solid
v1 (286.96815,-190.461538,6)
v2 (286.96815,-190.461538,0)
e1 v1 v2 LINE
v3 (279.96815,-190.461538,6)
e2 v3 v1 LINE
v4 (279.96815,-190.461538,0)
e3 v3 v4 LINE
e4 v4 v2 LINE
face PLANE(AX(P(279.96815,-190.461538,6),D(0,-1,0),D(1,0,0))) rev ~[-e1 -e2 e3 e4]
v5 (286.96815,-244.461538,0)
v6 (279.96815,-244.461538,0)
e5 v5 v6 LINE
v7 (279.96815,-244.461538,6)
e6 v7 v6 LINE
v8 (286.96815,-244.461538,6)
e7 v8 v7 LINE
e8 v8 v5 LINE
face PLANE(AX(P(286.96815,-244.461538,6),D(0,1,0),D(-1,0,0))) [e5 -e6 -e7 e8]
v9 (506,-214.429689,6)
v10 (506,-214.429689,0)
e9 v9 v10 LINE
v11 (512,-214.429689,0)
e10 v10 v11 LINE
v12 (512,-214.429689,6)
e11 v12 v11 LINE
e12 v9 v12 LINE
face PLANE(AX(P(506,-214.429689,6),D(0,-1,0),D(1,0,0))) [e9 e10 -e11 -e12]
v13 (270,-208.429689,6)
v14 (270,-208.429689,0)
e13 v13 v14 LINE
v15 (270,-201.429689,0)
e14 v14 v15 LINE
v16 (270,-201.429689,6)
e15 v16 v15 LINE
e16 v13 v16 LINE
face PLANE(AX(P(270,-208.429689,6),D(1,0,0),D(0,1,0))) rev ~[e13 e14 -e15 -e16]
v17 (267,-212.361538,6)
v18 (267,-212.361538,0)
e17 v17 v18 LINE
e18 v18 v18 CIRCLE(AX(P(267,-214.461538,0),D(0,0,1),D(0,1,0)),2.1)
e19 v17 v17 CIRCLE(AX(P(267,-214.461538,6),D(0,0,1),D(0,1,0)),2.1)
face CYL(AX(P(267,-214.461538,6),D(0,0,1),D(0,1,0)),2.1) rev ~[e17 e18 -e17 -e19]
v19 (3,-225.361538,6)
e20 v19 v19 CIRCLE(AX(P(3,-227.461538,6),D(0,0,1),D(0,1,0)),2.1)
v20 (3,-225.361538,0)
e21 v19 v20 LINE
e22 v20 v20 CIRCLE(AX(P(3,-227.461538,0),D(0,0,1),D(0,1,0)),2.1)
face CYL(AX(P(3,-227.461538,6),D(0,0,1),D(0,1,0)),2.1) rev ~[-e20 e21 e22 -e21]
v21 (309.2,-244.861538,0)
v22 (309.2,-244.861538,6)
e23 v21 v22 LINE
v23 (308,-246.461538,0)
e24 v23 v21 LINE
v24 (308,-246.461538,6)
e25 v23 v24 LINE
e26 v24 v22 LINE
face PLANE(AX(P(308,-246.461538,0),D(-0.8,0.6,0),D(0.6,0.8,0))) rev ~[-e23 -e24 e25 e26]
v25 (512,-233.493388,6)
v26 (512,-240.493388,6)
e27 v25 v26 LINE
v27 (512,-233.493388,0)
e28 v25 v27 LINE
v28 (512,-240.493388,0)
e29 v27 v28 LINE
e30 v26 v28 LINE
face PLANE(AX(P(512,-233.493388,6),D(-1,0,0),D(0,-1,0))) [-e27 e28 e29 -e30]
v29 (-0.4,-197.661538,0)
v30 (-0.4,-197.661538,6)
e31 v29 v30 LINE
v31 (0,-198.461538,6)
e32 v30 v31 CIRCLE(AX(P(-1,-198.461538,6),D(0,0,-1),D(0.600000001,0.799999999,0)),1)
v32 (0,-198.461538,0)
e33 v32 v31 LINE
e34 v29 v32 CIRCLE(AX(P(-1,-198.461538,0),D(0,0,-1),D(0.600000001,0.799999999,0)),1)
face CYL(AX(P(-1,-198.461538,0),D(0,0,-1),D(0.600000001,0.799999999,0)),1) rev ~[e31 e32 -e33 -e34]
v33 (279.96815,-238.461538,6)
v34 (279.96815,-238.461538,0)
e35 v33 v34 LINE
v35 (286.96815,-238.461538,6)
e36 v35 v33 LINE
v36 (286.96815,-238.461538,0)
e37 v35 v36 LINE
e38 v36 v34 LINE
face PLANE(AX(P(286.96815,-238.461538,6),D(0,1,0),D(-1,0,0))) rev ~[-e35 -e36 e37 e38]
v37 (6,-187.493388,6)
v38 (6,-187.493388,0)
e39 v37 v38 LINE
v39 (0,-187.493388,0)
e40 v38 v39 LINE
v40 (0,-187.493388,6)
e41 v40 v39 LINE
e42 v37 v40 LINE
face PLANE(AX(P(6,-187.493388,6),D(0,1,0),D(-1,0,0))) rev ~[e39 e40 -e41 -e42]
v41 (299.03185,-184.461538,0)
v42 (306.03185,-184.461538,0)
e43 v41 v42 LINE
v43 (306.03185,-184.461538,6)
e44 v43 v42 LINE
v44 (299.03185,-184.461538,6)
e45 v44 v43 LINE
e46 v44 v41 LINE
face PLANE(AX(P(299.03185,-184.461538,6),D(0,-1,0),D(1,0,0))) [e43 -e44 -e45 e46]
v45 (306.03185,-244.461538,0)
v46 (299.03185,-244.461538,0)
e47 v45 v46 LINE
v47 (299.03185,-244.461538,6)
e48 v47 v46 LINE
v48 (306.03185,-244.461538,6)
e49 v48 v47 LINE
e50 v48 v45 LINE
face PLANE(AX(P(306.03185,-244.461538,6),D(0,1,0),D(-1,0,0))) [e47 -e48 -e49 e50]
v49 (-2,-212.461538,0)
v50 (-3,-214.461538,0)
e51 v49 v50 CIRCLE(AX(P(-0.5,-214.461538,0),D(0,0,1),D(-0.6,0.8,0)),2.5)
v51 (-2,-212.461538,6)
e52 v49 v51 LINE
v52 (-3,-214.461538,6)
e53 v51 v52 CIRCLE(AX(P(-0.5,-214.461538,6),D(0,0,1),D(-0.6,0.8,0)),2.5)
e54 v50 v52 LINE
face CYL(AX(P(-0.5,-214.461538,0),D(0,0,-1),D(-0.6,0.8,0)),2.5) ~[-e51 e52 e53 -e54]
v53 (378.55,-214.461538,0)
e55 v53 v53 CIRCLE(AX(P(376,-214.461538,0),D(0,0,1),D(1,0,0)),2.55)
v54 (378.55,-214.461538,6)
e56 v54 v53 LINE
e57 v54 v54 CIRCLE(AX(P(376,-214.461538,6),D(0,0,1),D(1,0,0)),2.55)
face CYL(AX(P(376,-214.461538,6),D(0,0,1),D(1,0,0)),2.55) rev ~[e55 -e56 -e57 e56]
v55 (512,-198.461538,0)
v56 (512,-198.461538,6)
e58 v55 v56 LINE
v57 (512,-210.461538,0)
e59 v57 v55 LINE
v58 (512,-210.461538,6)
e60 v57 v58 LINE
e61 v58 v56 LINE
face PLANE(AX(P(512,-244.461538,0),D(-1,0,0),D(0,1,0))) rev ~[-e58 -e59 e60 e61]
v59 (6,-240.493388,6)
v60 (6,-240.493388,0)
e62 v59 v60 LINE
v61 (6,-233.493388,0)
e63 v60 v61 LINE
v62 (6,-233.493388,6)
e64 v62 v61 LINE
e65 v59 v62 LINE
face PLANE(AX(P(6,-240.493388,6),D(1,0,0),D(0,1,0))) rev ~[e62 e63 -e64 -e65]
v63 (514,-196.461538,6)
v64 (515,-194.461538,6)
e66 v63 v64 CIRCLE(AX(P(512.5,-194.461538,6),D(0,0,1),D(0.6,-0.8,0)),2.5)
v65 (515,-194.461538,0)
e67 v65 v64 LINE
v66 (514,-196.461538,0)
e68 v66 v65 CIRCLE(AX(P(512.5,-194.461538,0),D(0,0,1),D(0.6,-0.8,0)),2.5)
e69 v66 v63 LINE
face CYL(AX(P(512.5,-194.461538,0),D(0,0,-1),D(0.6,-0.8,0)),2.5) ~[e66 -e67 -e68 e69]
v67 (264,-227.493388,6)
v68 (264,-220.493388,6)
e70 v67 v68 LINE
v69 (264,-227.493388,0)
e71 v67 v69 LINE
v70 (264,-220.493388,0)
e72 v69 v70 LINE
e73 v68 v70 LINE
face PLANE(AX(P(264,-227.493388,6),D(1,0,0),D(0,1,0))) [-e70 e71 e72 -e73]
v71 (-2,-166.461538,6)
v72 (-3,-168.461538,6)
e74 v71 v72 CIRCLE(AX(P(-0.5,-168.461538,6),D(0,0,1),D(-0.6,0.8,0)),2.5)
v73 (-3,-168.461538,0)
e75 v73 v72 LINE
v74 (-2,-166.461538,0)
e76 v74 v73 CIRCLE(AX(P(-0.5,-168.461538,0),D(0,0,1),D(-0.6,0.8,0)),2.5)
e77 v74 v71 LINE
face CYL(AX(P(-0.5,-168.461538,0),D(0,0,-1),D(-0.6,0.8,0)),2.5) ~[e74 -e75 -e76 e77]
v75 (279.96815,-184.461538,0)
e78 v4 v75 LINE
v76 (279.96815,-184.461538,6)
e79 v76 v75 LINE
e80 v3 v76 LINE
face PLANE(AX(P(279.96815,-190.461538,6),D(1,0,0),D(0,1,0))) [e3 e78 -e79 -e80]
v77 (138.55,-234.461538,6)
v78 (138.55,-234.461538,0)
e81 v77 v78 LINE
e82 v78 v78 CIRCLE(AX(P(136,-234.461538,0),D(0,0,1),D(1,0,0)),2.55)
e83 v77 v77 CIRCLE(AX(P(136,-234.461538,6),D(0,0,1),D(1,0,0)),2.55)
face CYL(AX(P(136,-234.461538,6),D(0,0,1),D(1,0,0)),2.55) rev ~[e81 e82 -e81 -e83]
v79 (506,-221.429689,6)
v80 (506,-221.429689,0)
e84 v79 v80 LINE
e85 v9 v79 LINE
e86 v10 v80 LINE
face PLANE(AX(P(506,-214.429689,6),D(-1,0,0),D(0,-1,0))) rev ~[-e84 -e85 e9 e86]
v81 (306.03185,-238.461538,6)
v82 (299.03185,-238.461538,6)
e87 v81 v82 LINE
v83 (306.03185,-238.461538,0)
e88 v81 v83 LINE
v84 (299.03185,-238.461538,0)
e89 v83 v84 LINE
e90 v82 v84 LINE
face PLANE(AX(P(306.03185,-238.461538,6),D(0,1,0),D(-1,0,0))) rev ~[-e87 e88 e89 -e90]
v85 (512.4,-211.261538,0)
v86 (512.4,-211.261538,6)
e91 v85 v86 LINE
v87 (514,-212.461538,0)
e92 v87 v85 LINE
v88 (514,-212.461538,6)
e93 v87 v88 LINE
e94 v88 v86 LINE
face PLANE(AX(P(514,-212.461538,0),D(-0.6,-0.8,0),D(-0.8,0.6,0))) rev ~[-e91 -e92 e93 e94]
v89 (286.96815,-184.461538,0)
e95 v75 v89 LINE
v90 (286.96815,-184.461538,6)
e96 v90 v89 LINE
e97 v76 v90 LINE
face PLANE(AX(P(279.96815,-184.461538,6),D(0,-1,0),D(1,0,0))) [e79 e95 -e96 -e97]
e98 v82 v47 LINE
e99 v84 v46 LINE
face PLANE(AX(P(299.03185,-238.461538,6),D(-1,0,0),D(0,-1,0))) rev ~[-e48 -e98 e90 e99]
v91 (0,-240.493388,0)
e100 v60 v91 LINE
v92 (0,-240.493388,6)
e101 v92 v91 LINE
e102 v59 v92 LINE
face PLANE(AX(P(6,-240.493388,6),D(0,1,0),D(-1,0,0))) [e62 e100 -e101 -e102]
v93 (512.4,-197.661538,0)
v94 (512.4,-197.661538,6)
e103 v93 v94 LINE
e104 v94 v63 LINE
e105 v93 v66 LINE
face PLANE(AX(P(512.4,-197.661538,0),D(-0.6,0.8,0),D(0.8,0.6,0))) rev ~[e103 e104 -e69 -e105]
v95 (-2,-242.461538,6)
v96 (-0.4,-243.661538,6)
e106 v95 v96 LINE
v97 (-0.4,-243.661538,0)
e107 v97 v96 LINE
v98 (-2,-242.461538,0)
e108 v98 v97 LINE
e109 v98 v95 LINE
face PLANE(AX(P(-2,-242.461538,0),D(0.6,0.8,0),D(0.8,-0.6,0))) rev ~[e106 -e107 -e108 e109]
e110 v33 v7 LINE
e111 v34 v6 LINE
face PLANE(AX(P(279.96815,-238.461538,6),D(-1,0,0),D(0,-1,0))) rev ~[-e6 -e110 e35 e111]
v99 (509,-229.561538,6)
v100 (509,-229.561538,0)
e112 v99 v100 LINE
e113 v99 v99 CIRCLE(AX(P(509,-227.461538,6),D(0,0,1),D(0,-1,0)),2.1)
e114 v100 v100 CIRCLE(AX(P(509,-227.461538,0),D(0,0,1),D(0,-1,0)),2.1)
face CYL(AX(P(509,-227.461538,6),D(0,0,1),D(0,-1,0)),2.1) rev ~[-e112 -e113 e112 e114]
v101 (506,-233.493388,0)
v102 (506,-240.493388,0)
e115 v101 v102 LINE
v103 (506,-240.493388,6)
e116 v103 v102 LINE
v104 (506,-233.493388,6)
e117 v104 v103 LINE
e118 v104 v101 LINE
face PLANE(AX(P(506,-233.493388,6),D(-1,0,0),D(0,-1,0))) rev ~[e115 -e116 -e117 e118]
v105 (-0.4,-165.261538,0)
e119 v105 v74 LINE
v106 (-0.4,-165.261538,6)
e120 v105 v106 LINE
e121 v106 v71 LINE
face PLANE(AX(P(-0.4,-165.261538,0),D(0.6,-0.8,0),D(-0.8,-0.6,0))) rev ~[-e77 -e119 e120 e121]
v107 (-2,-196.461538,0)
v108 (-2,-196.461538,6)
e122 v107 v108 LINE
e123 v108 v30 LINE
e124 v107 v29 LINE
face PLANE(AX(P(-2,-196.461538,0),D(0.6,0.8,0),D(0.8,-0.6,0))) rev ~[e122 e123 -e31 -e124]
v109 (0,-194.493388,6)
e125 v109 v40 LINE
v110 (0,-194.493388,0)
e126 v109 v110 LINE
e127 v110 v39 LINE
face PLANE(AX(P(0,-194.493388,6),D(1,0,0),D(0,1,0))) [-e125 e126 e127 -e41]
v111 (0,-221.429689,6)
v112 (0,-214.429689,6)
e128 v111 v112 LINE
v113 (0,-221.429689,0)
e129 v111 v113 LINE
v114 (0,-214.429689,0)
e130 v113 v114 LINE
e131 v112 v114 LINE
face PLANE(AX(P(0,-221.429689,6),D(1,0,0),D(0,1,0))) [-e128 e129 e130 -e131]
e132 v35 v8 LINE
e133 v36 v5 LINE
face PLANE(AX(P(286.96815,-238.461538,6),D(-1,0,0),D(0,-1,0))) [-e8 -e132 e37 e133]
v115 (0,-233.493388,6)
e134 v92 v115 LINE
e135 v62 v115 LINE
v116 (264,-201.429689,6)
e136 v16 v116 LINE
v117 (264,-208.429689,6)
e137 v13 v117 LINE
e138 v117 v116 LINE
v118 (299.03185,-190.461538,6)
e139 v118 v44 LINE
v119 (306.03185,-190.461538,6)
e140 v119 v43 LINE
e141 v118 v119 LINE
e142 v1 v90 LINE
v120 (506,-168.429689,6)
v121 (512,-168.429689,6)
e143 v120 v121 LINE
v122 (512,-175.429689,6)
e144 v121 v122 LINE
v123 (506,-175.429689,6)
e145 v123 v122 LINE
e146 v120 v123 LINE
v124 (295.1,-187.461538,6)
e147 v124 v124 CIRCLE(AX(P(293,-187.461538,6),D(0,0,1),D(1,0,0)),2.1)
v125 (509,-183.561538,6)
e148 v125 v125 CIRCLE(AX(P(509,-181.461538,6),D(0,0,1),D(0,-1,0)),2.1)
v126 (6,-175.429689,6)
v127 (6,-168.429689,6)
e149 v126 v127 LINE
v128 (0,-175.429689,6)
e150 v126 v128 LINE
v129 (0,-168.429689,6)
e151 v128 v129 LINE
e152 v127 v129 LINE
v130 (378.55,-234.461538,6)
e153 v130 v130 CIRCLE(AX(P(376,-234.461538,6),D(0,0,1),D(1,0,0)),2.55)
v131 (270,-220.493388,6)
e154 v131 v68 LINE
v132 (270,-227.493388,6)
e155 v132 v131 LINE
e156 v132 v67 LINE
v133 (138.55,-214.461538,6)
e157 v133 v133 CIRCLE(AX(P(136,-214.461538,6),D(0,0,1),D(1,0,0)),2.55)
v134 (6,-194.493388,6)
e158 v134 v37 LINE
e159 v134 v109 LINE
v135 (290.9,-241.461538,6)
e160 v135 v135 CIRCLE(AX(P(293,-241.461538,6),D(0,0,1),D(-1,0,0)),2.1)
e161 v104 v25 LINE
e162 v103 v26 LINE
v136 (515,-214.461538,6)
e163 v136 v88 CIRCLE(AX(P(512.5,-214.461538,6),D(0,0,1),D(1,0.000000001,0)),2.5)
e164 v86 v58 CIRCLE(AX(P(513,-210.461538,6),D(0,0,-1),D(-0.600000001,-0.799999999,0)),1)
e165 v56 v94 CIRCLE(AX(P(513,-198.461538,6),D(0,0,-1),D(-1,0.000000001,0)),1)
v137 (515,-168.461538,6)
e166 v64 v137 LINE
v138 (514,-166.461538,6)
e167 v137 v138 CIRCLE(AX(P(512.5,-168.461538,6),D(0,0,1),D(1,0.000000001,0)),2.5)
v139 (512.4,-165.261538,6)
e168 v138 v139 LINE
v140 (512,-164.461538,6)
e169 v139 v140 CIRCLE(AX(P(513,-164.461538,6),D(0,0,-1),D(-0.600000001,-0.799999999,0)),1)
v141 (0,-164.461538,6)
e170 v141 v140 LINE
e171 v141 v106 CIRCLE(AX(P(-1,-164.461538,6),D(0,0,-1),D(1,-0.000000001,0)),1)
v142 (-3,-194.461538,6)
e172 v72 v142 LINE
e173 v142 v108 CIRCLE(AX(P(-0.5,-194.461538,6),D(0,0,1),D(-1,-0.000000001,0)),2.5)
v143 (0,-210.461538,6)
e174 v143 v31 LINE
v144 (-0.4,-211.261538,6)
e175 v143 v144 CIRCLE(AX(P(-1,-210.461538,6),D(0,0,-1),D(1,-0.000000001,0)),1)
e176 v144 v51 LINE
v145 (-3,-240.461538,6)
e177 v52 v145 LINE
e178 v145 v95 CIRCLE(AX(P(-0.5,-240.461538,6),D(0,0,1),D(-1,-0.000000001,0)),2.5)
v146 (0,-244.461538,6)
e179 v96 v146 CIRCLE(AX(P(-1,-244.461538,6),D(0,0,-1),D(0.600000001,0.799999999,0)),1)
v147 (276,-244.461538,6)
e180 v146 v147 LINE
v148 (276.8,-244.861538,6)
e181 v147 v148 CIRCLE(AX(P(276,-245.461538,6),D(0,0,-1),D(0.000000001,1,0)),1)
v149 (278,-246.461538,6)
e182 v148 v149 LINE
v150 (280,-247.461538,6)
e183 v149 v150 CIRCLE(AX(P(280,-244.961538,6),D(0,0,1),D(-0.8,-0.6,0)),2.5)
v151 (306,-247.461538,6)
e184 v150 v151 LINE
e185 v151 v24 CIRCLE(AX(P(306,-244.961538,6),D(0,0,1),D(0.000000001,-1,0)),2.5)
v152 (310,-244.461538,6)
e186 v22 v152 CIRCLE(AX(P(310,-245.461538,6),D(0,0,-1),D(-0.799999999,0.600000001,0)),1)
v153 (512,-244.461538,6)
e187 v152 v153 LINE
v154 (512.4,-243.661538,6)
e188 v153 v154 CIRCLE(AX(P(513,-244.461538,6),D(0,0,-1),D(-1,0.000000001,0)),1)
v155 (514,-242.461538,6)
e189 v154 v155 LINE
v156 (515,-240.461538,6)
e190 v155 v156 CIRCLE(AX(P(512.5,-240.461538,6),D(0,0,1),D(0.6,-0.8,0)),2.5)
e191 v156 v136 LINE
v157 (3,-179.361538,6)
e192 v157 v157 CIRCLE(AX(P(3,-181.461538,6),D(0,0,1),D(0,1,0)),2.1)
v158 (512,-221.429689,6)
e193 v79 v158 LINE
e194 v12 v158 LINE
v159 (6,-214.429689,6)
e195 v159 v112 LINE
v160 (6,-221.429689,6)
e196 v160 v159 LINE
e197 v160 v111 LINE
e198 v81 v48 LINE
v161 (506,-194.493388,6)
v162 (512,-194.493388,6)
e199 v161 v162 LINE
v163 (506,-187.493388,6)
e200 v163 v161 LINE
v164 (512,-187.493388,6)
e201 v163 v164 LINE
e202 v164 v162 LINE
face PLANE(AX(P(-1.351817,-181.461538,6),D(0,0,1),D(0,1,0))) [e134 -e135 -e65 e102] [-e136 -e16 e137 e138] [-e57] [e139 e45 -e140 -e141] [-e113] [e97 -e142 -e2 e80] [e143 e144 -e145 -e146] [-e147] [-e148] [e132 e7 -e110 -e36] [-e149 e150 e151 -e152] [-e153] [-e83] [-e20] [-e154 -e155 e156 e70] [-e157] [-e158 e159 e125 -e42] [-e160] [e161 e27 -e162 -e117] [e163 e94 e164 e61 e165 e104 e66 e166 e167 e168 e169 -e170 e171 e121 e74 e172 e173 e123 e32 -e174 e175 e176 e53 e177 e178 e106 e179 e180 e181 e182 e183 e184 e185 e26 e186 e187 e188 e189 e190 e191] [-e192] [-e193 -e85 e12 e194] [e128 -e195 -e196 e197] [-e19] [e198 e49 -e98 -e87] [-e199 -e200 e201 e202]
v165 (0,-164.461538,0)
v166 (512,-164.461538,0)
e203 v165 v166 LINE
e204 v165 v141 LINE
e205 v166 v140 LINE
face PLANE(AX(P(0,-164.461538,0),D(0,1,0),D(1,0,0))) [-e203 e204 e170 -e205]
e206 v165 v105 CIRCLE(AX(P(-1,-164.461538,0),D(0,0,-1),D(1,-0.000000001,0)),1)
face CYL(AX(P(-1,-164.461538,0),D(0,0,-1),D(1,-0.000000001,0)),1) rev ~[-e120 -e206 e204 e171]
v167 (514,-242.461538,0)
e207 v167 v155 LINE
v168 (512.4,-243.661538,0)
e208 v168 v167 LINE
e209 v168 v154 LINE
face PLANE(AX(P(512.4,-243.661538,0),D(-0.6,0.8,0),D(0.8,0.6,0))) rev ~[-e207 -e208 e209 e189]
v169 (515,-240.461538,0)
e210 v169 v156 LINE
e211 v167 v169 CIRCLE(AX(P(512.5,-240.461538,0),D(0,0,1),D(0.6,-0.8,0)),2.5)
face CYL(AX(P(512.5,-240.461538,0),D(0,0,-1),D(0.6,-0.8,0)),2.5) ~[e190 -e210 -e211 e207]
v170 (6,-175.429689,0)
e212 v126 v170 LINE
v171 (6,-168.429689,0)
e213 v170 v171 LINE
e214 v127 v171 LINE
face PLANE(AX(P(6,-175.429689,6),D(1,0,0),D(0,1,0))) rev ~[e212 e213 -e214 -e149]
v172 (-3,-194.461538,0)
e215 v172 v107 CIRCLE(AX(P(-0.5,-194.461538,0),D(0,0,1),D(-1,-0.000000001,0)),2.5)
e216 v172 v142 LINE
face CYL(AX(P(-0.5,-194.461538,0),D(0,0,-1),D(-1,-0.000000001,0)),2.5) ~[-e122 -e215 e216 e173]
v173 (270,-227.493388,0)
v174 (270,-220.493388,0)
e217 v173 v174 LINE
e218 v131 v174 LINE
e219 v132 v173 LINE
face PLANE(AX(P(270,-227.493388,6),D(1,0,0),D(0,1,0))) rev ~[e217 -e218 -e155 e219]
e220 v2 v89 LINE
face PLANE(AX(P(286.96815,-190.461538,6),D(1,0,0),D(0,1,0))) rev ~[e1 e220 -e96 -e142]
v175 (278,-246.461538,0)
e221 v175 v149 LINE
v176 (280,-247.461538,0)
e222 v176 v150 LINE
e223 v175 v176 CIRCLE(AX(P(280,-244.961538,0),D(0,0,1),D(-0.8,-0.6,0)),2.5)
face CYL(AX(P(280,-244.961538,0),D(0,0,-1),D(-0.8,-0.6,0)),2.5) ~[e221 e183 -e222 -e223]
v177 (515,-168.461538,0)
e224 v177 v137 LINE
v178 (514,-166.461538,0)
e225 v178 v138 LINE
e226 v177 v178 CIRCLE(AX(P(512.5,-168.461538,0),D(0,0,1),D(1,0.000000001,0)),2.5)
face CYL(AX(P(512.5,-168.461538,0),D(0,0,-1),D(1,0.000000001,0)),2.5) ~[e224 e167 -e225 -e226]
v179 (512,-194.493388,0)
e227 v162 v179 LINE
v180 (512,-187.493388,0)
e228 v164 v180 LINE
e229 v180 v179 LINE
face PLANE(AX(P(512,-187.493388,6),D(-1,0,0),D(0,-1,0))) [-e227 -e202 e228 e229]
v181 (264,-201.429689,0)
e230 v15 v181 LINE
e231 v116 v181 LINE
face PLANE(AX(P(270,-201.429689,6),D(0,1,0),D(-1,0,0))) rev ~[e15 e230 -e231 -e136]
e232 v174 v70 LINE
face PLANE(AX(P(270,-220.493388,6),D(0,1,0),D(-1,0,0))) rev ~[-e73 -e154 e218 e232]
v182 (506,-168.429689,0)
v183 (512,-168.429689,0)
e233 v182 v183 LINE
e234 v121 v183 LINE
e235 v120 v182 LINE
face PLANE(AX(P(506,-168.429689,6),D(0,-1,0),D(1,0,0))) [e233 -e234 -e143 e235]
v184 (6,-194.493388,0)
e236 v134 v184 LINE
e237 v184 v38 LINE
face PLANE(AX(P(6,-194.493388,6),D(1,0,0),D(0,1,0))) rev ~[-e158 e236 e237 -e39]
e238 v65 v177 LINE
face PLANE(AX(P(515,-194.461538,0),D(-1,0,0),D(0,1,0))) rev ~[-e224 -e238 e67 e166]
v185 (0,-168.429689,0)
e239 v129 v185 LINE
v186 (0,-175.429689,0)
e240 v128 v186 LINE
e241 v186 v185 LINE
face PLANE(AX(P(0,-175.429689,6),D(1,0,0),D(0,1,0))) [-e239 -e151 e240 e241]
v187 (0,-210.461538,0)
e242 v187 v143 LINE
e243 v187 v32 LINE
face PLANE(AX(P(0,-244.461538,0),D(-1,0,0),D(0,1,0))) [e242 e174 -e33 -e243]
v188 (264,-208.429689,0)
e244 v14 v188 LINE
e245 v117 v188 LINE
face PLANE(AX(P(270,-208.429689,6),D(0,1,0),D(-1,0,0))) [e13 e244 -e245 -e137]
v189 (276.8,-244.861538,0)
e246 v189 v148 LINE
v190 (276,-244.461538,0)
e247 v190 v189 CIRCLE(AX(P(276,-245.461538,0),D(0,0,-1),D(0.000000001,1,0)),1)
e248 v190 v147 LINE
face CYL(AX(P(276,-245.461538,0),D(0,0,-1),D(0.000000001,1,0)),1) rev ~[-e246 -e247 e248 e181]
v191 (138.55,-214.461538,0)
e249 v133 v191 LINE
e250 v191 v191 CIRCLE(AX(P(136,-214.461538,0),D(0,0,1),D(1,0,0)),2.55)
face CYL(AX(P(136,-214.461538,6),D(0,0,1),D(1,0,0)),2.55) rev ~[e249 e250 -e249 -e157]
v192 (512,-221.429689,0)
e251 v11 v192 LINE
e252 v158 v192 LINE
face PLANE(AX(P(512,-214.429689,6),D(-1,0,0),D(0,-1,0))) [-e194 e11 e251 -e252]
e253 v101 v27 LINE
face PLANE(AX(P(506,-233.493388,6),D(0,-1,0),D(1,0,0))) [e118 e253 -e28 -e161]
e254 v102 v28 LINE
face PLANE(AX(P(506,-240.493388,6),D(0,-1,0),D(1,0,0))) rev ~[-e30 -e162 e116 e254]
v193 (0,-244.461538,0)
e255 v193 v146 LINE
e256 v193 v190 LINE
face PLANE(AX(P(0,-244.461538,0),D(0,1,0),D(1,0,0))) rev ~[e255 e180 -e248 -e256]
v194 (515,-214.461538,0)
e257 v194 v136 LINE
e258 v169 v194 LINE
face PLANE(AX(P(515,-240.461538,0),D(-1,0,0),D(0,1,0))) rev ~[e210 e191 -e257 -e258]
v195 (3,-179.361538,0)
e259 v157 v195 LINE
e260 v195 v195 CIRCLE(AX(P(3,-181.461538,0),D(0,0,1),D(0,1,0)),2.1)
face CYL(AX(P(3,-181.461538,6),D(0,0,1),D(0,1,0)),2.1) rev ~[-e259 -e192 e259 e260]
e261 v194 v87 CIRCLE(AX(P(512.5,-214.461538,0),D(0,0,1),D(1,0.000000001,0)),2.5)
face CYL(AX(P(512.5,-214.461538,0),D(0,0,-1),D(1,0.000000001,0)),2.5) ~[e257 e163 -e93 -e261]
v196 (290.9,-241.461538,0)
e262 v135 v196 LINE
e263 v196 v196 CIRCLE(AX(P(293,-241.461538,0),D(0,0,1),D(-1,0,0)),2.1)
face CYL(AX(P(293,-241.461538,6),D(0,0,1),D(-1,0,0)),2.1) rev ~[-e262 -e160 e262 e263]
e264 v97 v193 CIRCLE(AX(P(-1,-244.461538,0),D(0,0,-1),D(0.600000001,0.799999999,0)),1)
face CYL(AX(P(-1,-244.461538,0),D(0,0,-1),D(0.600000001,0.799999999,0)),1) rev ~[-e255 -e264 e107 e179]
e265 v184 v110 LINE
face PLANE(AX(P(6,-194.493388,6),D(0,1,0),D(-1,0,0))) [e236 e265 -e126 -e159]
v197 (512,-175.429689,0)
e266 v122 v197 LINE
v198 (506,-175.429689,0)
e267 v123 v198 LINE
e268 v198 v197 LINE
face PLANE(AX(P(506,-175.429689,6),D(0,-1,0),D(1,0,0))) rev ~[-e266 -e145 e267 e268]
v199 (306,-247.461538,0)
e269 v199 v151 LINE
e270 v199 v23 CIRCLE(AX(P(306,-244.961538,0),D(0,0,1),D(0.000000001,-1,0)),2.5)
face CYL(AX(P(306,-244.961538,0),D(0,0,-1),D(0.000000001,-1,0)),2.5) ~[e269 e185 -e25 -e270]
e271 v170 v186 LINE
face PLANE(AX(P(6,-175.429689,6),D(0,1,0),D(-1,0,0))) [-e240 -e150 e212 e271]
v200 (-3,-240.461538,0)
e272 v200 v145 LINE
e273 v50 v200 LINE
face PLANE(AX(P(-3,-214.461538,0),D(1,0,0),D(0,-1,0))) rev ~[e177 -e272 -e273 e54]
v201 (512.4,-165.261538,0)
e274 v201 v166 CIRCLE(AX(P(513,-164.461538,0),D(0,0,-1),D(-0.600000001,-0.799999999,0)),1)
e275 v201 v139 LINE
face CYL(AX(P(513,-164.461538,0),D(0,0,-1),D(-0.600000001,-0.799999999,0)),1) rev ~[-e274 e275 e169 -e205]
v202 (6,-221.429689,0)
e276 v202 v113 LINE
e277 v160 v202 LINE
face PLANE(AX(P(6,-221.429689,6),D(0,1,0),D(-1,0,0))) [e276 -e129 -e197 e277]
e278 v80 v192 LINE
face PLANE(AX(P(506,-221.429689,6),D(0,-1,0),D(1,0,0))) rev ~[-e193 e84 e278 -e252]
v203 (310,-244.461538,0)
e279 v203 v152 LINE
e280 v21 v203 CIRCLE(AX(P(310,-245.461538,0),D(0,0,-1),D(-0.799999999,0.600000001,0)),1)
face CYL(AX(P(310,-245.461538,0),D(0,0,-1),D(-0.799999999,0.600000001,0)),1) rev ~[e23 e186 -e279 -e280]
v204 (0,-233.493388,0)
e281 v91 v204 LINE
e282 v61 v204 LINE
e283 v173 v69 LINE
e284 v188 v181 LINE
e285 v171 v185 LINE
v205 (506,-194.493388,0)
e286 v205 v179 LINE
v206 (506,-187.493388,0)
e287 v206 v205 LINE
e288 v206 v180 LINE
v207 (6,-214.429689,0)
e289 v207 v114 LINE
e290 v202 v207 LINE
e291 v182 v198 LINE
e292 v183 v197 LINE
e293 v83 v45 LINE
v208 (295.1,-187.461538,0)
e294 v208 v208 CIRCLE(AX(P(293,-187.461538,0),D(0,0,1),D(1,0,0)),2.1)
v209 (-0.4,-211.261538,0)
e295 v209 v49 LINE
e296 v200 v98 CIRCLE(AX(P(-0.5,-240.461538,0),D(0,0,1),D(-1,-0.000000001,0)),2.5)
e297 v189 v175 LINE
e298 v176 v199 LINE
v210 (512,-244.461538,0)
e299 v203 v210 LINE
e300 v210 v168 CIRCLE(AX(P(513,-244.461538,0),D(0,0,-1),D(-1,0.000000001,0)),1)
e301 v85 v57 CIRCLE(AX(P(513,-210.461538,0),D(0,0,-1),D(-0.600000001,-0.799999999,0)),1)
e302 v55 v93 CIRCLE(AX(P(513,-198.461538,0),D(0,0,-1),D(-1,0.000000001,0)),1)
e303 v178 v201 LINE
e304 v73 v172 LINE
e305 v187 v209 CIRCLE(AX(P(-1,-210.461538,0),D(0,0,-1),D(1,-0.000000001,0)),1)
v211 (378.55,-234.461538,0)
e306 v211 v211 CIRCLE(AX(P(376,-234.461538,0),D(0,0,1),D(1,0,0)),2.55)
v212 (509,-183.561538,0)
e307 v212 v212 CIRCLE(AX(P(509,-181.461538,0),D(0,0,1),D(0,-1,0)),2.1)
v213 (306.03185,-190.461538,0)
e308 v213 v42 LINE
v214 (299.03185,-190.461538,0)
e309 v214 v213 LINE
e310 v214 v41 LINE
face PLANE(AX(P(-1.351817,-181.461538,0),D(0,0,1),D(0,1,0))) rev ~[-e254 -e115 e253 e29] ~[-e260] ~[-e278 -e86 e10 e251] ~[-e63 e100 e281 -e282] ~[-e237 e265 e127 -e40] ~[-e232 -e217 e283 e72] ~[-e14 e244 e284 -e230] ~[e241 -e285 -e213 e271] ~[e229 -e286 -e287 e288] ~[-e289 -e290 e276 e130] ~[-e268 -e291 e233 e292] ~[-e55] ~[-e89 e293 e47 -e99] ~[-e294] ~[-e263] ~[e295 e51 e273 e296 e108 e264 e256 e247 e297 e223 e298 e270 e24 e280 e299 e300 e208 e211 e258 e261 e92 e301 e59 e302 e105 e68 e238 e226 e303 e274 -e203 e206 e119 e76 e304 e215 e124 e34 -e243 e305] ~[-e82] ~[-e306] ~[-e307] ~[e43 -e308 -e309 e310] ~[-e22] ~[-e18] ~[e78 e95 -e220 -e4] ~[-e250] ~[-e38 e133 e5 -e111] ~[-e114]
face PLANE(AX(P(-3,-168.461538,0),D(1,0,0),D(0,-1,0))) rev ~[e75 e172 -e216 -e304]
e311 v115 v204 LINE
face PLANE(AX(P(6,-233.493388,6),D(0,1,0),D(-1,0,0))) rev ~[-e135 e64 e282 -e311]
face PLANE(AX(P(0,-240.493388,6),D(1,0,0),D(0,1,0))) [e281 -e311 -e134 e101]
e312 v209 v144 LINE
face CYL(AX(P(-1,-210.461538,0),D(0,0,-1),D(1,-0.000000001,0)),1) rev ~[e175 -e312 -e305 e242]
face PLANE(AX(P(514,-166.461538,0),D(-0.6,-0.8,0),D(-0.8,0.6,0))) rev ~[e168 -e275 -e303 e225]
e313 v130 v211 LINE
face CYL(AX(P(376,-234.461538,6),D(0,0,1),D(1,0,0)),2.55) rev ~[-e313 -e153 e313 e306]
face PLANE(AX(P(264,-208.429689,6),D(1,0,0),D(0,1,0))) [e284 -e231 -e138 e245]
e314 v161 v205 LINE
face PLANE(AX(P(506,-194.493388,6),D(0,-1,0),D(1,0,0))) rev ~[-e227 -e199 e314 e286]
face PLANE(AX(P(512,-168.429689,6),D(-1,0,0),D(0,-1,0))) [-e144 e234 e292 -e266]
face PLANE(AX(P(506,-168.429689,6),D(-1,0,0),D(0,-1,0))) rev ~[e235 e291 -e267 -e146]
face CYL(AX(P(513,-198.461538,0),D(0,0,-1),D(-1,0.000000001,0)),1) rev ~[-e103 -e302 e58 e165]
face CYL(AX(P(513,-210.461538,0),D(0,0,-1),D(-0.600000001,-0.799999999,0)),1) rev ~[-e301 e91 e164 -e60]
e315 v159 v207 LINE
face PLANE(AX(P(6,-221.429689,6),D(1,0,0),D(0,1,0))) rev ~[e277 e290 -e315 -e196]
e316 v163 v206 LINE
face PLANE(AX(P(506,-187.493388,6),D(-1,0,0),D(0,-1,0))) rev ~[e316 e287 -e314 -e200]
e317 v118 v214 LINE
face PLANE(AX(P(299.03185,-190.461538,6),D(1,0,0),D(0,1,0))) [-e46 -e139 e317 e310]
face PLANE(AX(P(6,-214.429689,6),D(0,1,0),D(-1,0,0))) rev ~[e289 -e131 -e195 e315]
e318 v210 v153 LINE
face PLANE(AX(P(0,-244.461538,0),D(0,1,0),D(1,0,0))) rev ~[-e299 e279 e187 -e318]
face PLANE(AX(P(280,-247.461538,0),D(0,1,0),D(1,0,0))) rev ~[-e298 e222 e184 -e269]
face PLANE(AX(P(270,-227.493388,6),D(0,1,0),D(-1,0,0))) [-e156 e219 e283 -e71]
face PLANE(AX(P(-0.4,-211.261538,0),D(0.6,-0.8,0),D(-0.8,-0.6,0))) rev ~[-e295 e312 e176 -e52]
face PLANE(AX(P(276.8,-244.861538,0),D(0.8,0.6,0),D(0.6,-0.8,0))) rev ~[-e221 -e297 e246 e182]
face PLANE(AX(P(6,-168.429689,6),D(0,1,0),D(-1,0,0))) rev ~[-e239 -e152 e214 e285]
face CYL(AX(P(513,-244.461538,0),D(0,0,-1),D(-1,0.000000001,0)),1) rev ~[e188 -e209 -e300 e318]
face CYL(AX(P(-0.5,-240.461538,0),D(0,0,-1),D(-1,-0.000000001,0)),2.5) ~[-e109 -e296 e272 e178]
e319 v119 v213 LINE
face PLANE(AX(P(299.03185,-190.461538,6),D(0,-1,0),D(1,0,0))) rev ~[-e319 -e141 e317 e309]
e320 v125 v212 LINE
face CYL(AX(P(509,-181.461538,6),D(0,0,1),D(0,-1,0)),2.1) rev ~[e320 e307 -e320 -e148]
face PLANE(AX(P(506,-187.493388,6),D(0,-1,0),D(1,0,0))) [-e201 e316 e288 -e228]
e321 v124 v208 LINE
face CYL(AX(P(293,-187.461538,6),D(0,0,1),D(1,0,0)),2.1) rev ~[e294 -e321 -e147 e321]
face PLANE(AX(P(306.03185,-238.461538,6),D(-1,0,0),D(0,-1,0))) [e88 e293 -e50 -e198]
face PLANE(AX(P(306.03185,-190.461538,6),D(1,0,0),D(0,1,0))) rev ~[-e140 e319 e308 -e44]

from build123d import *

# Parameters (mm, degrees)
SKETCH_1_W           = 512
SKETCH_1_H           = 80
EXTRUDE_1_DEPTH      = 6
SKETCH_2_R           = 2.55
CUT_EXTRUDE_1_DEPTH  = 7
EXTRUDE_2_DEPTH      = 6
SKETCH_3_R           = 2.1
SKETCH_3_W           = 7
SKETCH_3_H           = 6
CUT_EXTRUDE_11_DEPTH = 7
EXTRUDE_21_DEPTH     = 6
SKETCH_31_R          = 2.1
SKETCH_31_W          = 7
SKETCH_31_H          = 6
CUT_EXTRUDE_12_DEPTH = 7
EXTRUDE_22_DEPTH     = 6
SKETCH_32_R          = 2.1
SKETCH_32_W          = 7
SKETCH_32_H          = 6
CUT_EXTRUDE_13_DEPTH = 7
EXTRUDE_23_DEPTH     = 6
SKETCH_33_R          = 2.1
SKETCH_33_W          = 7
SKETCH_33_H          = 6
CUT_EXTRUDE_14_DEPTH = 7
SKETCH_35_R          = 2.1
SKETCH_35_W          = 7
SKETCH_35_H          = 6
CUT_EXTRUDE_16_DEPTH = 7
EXTRUDE_25_DEPTH     = 6
SKETCH_36_R          = 2.1
SKETCH_36_W          = 7
SKETCH_36_H          = 6
CUT_EXTRUDE_17_DEPTH = 7
SKETCH_37_R          = 2.1
SKETCH_37_W          = 7
SKETCH_37_H          = 6
CUT_EXTRUDE_18_DEPTH = 7


with BuildPart() as part:
    # Эскиз1 → Бобышка-Вытянуть1 (new body)
    with BuildSketch(Plane.XY):
        with Locations((256, -204.461538462)):
            Rectangle(SKETCH_1_W, SKETCH_1_H)
    extrude(amount=EXTRUDE_1_DEPTH)

    # Эскиз2 → Вырез-Вытянуть1 (cut, through all)
    with BuildSketch(Plane.XY.offset(6)):
        with Locations((376, -234.461538462)):
            Circle(SKETCH_2_R)
        with Locations((376, -214.461538462)):
            Circle(SKETCH_2_R)
        with Locations((136, -234.461538462)):
            Circle(SKETCH_2_R)
        with Locations((136, -214.461538462)):
            Circle(SKETCH_2_R)
    extrude(amount=-CUT_EXTRUDE_1_DEPTH, mode=Mode.SUBTRACT)

    # Эскиз21 → Бобышка-Вытянуть2 (add)
    with BuildSketch(Plane(origin=(462, -227.461538462, 0), x_dir=(0, -1, 0), z_dir=(0, 0, 1))):
        with BuildLine():
            Line((13, 53), (-13, 53))
            ThreePointArc((-13, 53), (-14.118033989, 52.736067977), (-15, 52))
            Line((-15, 52), (-16.2, 50.4))
            ThreePointArc((-16.2, 50.4), (-16.552786405, 50.105572809), (-17, 50))
            Line((-17, 50), (17, 50))
            ThreePointArc((17, 50), (16.552786405, 50.105572809), (16.2, 50.4))
            Line((16.2, 50.4), (15, 52))
            ThreePointArc((15, 52), (14.118033989, 52.736067977), (13, 53))
        make_face()
    extrude(amount=EXTRUDE_2_DEPTH)

    # Эскиз3 → Вырез-Вытянуть11 (cut, through all)
    with BuildSketch(Plane(origin=(462, -227.461538462, 6), x_dir=(0, -1, 0), z_dir=(0, 0, 1))):
        with Locations((0, 47)):
            Circle(SKETCH_3_R)
        with Locations((9.531849908, 47)):
            Rectangle(SKETCH_3_W, SKETCH_3_H)
        with Locations((-9.531849908, 47)):
            Rectangle(SKETCH_3_W, SKETCH_3_H)
    extrude(amount=-CUT_EXTRUDE_11_DEPTH, mode=Mode.SUBTRACT)

    # Эскиз22 → Бобышка-Вытянуть21 (add)
    with BuildSketch(Plane(origin=(462, -181.461538462, 0), x_dir=(0, -1, 0), z_dir=(0, 0, 1))):
        with BuildLine():
            Line((13, 53), (-13, 53))
            ThreePointArc((-13, 53), (-14.118033989, 52.736067977), (-15, 52))
            Line((-15, 52), (-16.2, 50.4))
            ThreePointArc((-16.2, 50.4), (-16.552786405, 50.105572809), (-17, 50))
            Line((-17, 50), (17, 50))
            ThreePointArc((17, 50), (16.552786405, 50.105572809), (16.2, 50.4))
            Line((16.2, 50.4), (15, 52))
            ThreePointArc((15, 52), (14.118033989, 52.736067977), (13, 53))
        make_face()
    extrude(amount=EXTRUDE_21_DEPTH)

    # Эскиз31 → Вырез-Вытянуть12 (cut, through all)
    with BuildSketch(Plane(origin=(462, -181.461538462, 6), x_dir=(0, -1, 0), z_dir=(0, 0, 1))):
        with Locations((0, 47)):
            Circle(SKETCH_31_R)
        with Locations((9.531849908, 47)):
            Rectangle(SKETCH_31_W, SKETCH_31_H)
        with Locations((-9.531849908, 47)):
            Rectangle(SKETCH_31_W, SKETCH_31_H)
    extrude(amount=-CUT_EXTRUDE_12_DEPTH, mode=Mode.SUBTRACT)

    # Эскиз23 → Бобышка-Вытянуть22 (add)
    with BuildSketch(Plane(origin=(50, -227.461538462, 0), x_dir=(0, 1, 0), z_dir=(0, 0, 1))):
        with BuildLine():
            Line((13, 53), (-13, 53))
            ThreePointArc((-13, 53), (-14.118033989, 52.736067977), (-15, 52))
            Line((-15, 52), (-16.2, 50.4))
            ThreePointArc((-16.2, 50.4), (-16.552786405, 50.105572809), (-17, 50))
            Line((-17, 50), (17, 50))
            ThreePointArc((17, 50), (16.552786405, 50.105572809), (16.2, 50.4))
            Line((16.2, 50.4), (15, 52))
            ThreePointArc((15, 52), (14.118033989, 52.736067977), (13, 53))
        make_face()
    extrude(amount=EXTRUDE_22_DEPTH)

    # Эскиз32 → Вырез-Вытянуть13 (cut, through all)
    with BuildSketch(Plane(origin=(50, -227.461538462, 6), x_dir=(0, 1, 0), z_dir=(0, 0, 1))):
        with Locations((0, 47)):
            Circle(SKETCH_32_R)
        with Locations((9.531849908, 47)):
            Rectangle(SKETCH_32_W, SKETCH_32_H)
        with Locations((-9.531849908, 47)):
            Rectangle(SKETCH_32_W, SKETCH_32_H)
    extrude(amount=-CUT_EXTRUDE_13_DEPTH, mode=Mode.SUBTRACT)

    # Эскиз24 → Бобышка-Вытянуть23 (add)
    with BuildSketch(Plane(origin=(50, -181.461538462, 0), x_dir=(0, 1, 0), z_dir=(0, 0, 1))):
        with BuildLine():
            Line((13, 53), (-13, 53))
            ThreePointArc((-13, 53), (-14.118033989, 52.736067977), (-15, 52))
            Line((-15, 52), (-16.2, 50.4))
            ThreePointArc((-16.2, 50.4), (-16.552786405, 50.105572809), (-17, 50))
            Line((-17, 50), (17, 50))
            ThreePointArc((17, 50), (16.552786405, 50.105572809), (16.2, 50.4))
            Line((16.2, 50.4), (15, 52))
            ThreePointArc((15, 52), (14.118033989, 52.736067977), (13, 53))
        make_face()
    extrude(amount=EXTRUDE_23_DEPTH)

    # Эскиз33 → Вырез-Вытянуть14 (cut, through all)
    with BuildSketch(Plane(origin=(50, -181.461538462, 6), x_dir=(0, 1, 0), z_dir=(0, 0, 1))):
        with Locations((0, 47)):
            Circle(SKETCH_33_R)
        with Locations((9.531849908, 47)):
            Rectangle(SKETCH_33_W, SKETCH_33_H)
        with Locations((-9.531849908, 47)):
            Rectangle(SKETCH_33_W, SKETCH_33_H)
    extrude(amount=-CUT_EXTRUDE_14_DEPTH, mode=Mode.SUBTRACT)

    # Эскиз35 → Вырез-Вытянуть16 (cut, through all)
    with BuildSketch(Plane(origin=(314, -214.461538462, 6), x_dir=(0, 1, 0), z_dir=(0, 0, 1))):
        with Locations((0, 47)):
            Circle(SKETCH_35_R)
        with Locations((9.531849908, 47)):
            Rectangle(SKETCH_35_W, SKETCH_35_H)
        with Locations((-9.531849908, 47)):
            Rectangle(SKETCH_35_W, SKETCH_35_H)
    extrude(amount=-CUT_EXTRUDE_16_DEPTH, mode=Mode.SUBTRACT)

    # Эскиз25 → Бобышка-Вытянуть25 (add)
    with BuildSketch(Plane(origin=(293, -194.461538462, 0), x_dir=(-1, 0, 0), z_dir=(0, 0, 1))):
        with BuildLine():
            Line((13, 53), (-13, 53))
            ThreePointArc((-13, 53), (-14.118033989, 52.736067977), (-15, 52))
            Line((-15, 52), (-16.2, 50.4))
            ThreePointArc((-16.2, 50.4), (-16.552786405, 50.105572809), (-17, 50))
            Line((-17, 50), (17, 50))
            ThreePointArc((17, 50), (16.552786405, 50.105572809), (16.2, 50.4))
            Line((16.2, 50.4), (15, 52))
            ThreePointArc((15, 52), (14.118033989, 52.736067977), (13, 53))
        make_face()
    extrude(amount=EXTRUDE_25_DEPTH)

    # Эскиз36 → Вырез-Вытянуть17 (cut, through all)
    with BuildSketch(Plane(origin=(293, -194.461538462, 6), x_dir=(-1, 0, 0), z_dir=(0, 0, 1))):
        with Locations((0, 47)):
            Circle(SKETCH_36_R)
        with Locations((9.531849908, 47)):
            Rectangle(SKETCH_36_W, SKETCH_36_H)
        with Locations((-9.531849908, 47)):
            Rectangle(SKETCH_36_W, SKETCH_36_H)
    extrude(amount=-CUT_EXTRUDE_17_DEPTH, mode=Mode.SUBTRACT)

    # Эскиз37 → Вырез-Вытянуть18 (cut, through all)
    with BuildSketch(Plane(origin=(293, -234.461538462, 6), x_dir=(1, 0, 0), z_dir=(0, 0, 1))):
        with Locations((0, 47)):
            Circle(SKETCH_37_R)
        with Locations((9.531849908, 47)):
            Rectangle(SKETCH_37_W, SKETCH_37_H)
        with Locations((-9.531849908, 47)):
            Rectangle(SKETCH_37_W, SKETCH_37_H)
    extrude(amount=-CUT_EXTRUDE_18_DEPTH, mode=Mode.SUBTRACT)


solid = part.part
